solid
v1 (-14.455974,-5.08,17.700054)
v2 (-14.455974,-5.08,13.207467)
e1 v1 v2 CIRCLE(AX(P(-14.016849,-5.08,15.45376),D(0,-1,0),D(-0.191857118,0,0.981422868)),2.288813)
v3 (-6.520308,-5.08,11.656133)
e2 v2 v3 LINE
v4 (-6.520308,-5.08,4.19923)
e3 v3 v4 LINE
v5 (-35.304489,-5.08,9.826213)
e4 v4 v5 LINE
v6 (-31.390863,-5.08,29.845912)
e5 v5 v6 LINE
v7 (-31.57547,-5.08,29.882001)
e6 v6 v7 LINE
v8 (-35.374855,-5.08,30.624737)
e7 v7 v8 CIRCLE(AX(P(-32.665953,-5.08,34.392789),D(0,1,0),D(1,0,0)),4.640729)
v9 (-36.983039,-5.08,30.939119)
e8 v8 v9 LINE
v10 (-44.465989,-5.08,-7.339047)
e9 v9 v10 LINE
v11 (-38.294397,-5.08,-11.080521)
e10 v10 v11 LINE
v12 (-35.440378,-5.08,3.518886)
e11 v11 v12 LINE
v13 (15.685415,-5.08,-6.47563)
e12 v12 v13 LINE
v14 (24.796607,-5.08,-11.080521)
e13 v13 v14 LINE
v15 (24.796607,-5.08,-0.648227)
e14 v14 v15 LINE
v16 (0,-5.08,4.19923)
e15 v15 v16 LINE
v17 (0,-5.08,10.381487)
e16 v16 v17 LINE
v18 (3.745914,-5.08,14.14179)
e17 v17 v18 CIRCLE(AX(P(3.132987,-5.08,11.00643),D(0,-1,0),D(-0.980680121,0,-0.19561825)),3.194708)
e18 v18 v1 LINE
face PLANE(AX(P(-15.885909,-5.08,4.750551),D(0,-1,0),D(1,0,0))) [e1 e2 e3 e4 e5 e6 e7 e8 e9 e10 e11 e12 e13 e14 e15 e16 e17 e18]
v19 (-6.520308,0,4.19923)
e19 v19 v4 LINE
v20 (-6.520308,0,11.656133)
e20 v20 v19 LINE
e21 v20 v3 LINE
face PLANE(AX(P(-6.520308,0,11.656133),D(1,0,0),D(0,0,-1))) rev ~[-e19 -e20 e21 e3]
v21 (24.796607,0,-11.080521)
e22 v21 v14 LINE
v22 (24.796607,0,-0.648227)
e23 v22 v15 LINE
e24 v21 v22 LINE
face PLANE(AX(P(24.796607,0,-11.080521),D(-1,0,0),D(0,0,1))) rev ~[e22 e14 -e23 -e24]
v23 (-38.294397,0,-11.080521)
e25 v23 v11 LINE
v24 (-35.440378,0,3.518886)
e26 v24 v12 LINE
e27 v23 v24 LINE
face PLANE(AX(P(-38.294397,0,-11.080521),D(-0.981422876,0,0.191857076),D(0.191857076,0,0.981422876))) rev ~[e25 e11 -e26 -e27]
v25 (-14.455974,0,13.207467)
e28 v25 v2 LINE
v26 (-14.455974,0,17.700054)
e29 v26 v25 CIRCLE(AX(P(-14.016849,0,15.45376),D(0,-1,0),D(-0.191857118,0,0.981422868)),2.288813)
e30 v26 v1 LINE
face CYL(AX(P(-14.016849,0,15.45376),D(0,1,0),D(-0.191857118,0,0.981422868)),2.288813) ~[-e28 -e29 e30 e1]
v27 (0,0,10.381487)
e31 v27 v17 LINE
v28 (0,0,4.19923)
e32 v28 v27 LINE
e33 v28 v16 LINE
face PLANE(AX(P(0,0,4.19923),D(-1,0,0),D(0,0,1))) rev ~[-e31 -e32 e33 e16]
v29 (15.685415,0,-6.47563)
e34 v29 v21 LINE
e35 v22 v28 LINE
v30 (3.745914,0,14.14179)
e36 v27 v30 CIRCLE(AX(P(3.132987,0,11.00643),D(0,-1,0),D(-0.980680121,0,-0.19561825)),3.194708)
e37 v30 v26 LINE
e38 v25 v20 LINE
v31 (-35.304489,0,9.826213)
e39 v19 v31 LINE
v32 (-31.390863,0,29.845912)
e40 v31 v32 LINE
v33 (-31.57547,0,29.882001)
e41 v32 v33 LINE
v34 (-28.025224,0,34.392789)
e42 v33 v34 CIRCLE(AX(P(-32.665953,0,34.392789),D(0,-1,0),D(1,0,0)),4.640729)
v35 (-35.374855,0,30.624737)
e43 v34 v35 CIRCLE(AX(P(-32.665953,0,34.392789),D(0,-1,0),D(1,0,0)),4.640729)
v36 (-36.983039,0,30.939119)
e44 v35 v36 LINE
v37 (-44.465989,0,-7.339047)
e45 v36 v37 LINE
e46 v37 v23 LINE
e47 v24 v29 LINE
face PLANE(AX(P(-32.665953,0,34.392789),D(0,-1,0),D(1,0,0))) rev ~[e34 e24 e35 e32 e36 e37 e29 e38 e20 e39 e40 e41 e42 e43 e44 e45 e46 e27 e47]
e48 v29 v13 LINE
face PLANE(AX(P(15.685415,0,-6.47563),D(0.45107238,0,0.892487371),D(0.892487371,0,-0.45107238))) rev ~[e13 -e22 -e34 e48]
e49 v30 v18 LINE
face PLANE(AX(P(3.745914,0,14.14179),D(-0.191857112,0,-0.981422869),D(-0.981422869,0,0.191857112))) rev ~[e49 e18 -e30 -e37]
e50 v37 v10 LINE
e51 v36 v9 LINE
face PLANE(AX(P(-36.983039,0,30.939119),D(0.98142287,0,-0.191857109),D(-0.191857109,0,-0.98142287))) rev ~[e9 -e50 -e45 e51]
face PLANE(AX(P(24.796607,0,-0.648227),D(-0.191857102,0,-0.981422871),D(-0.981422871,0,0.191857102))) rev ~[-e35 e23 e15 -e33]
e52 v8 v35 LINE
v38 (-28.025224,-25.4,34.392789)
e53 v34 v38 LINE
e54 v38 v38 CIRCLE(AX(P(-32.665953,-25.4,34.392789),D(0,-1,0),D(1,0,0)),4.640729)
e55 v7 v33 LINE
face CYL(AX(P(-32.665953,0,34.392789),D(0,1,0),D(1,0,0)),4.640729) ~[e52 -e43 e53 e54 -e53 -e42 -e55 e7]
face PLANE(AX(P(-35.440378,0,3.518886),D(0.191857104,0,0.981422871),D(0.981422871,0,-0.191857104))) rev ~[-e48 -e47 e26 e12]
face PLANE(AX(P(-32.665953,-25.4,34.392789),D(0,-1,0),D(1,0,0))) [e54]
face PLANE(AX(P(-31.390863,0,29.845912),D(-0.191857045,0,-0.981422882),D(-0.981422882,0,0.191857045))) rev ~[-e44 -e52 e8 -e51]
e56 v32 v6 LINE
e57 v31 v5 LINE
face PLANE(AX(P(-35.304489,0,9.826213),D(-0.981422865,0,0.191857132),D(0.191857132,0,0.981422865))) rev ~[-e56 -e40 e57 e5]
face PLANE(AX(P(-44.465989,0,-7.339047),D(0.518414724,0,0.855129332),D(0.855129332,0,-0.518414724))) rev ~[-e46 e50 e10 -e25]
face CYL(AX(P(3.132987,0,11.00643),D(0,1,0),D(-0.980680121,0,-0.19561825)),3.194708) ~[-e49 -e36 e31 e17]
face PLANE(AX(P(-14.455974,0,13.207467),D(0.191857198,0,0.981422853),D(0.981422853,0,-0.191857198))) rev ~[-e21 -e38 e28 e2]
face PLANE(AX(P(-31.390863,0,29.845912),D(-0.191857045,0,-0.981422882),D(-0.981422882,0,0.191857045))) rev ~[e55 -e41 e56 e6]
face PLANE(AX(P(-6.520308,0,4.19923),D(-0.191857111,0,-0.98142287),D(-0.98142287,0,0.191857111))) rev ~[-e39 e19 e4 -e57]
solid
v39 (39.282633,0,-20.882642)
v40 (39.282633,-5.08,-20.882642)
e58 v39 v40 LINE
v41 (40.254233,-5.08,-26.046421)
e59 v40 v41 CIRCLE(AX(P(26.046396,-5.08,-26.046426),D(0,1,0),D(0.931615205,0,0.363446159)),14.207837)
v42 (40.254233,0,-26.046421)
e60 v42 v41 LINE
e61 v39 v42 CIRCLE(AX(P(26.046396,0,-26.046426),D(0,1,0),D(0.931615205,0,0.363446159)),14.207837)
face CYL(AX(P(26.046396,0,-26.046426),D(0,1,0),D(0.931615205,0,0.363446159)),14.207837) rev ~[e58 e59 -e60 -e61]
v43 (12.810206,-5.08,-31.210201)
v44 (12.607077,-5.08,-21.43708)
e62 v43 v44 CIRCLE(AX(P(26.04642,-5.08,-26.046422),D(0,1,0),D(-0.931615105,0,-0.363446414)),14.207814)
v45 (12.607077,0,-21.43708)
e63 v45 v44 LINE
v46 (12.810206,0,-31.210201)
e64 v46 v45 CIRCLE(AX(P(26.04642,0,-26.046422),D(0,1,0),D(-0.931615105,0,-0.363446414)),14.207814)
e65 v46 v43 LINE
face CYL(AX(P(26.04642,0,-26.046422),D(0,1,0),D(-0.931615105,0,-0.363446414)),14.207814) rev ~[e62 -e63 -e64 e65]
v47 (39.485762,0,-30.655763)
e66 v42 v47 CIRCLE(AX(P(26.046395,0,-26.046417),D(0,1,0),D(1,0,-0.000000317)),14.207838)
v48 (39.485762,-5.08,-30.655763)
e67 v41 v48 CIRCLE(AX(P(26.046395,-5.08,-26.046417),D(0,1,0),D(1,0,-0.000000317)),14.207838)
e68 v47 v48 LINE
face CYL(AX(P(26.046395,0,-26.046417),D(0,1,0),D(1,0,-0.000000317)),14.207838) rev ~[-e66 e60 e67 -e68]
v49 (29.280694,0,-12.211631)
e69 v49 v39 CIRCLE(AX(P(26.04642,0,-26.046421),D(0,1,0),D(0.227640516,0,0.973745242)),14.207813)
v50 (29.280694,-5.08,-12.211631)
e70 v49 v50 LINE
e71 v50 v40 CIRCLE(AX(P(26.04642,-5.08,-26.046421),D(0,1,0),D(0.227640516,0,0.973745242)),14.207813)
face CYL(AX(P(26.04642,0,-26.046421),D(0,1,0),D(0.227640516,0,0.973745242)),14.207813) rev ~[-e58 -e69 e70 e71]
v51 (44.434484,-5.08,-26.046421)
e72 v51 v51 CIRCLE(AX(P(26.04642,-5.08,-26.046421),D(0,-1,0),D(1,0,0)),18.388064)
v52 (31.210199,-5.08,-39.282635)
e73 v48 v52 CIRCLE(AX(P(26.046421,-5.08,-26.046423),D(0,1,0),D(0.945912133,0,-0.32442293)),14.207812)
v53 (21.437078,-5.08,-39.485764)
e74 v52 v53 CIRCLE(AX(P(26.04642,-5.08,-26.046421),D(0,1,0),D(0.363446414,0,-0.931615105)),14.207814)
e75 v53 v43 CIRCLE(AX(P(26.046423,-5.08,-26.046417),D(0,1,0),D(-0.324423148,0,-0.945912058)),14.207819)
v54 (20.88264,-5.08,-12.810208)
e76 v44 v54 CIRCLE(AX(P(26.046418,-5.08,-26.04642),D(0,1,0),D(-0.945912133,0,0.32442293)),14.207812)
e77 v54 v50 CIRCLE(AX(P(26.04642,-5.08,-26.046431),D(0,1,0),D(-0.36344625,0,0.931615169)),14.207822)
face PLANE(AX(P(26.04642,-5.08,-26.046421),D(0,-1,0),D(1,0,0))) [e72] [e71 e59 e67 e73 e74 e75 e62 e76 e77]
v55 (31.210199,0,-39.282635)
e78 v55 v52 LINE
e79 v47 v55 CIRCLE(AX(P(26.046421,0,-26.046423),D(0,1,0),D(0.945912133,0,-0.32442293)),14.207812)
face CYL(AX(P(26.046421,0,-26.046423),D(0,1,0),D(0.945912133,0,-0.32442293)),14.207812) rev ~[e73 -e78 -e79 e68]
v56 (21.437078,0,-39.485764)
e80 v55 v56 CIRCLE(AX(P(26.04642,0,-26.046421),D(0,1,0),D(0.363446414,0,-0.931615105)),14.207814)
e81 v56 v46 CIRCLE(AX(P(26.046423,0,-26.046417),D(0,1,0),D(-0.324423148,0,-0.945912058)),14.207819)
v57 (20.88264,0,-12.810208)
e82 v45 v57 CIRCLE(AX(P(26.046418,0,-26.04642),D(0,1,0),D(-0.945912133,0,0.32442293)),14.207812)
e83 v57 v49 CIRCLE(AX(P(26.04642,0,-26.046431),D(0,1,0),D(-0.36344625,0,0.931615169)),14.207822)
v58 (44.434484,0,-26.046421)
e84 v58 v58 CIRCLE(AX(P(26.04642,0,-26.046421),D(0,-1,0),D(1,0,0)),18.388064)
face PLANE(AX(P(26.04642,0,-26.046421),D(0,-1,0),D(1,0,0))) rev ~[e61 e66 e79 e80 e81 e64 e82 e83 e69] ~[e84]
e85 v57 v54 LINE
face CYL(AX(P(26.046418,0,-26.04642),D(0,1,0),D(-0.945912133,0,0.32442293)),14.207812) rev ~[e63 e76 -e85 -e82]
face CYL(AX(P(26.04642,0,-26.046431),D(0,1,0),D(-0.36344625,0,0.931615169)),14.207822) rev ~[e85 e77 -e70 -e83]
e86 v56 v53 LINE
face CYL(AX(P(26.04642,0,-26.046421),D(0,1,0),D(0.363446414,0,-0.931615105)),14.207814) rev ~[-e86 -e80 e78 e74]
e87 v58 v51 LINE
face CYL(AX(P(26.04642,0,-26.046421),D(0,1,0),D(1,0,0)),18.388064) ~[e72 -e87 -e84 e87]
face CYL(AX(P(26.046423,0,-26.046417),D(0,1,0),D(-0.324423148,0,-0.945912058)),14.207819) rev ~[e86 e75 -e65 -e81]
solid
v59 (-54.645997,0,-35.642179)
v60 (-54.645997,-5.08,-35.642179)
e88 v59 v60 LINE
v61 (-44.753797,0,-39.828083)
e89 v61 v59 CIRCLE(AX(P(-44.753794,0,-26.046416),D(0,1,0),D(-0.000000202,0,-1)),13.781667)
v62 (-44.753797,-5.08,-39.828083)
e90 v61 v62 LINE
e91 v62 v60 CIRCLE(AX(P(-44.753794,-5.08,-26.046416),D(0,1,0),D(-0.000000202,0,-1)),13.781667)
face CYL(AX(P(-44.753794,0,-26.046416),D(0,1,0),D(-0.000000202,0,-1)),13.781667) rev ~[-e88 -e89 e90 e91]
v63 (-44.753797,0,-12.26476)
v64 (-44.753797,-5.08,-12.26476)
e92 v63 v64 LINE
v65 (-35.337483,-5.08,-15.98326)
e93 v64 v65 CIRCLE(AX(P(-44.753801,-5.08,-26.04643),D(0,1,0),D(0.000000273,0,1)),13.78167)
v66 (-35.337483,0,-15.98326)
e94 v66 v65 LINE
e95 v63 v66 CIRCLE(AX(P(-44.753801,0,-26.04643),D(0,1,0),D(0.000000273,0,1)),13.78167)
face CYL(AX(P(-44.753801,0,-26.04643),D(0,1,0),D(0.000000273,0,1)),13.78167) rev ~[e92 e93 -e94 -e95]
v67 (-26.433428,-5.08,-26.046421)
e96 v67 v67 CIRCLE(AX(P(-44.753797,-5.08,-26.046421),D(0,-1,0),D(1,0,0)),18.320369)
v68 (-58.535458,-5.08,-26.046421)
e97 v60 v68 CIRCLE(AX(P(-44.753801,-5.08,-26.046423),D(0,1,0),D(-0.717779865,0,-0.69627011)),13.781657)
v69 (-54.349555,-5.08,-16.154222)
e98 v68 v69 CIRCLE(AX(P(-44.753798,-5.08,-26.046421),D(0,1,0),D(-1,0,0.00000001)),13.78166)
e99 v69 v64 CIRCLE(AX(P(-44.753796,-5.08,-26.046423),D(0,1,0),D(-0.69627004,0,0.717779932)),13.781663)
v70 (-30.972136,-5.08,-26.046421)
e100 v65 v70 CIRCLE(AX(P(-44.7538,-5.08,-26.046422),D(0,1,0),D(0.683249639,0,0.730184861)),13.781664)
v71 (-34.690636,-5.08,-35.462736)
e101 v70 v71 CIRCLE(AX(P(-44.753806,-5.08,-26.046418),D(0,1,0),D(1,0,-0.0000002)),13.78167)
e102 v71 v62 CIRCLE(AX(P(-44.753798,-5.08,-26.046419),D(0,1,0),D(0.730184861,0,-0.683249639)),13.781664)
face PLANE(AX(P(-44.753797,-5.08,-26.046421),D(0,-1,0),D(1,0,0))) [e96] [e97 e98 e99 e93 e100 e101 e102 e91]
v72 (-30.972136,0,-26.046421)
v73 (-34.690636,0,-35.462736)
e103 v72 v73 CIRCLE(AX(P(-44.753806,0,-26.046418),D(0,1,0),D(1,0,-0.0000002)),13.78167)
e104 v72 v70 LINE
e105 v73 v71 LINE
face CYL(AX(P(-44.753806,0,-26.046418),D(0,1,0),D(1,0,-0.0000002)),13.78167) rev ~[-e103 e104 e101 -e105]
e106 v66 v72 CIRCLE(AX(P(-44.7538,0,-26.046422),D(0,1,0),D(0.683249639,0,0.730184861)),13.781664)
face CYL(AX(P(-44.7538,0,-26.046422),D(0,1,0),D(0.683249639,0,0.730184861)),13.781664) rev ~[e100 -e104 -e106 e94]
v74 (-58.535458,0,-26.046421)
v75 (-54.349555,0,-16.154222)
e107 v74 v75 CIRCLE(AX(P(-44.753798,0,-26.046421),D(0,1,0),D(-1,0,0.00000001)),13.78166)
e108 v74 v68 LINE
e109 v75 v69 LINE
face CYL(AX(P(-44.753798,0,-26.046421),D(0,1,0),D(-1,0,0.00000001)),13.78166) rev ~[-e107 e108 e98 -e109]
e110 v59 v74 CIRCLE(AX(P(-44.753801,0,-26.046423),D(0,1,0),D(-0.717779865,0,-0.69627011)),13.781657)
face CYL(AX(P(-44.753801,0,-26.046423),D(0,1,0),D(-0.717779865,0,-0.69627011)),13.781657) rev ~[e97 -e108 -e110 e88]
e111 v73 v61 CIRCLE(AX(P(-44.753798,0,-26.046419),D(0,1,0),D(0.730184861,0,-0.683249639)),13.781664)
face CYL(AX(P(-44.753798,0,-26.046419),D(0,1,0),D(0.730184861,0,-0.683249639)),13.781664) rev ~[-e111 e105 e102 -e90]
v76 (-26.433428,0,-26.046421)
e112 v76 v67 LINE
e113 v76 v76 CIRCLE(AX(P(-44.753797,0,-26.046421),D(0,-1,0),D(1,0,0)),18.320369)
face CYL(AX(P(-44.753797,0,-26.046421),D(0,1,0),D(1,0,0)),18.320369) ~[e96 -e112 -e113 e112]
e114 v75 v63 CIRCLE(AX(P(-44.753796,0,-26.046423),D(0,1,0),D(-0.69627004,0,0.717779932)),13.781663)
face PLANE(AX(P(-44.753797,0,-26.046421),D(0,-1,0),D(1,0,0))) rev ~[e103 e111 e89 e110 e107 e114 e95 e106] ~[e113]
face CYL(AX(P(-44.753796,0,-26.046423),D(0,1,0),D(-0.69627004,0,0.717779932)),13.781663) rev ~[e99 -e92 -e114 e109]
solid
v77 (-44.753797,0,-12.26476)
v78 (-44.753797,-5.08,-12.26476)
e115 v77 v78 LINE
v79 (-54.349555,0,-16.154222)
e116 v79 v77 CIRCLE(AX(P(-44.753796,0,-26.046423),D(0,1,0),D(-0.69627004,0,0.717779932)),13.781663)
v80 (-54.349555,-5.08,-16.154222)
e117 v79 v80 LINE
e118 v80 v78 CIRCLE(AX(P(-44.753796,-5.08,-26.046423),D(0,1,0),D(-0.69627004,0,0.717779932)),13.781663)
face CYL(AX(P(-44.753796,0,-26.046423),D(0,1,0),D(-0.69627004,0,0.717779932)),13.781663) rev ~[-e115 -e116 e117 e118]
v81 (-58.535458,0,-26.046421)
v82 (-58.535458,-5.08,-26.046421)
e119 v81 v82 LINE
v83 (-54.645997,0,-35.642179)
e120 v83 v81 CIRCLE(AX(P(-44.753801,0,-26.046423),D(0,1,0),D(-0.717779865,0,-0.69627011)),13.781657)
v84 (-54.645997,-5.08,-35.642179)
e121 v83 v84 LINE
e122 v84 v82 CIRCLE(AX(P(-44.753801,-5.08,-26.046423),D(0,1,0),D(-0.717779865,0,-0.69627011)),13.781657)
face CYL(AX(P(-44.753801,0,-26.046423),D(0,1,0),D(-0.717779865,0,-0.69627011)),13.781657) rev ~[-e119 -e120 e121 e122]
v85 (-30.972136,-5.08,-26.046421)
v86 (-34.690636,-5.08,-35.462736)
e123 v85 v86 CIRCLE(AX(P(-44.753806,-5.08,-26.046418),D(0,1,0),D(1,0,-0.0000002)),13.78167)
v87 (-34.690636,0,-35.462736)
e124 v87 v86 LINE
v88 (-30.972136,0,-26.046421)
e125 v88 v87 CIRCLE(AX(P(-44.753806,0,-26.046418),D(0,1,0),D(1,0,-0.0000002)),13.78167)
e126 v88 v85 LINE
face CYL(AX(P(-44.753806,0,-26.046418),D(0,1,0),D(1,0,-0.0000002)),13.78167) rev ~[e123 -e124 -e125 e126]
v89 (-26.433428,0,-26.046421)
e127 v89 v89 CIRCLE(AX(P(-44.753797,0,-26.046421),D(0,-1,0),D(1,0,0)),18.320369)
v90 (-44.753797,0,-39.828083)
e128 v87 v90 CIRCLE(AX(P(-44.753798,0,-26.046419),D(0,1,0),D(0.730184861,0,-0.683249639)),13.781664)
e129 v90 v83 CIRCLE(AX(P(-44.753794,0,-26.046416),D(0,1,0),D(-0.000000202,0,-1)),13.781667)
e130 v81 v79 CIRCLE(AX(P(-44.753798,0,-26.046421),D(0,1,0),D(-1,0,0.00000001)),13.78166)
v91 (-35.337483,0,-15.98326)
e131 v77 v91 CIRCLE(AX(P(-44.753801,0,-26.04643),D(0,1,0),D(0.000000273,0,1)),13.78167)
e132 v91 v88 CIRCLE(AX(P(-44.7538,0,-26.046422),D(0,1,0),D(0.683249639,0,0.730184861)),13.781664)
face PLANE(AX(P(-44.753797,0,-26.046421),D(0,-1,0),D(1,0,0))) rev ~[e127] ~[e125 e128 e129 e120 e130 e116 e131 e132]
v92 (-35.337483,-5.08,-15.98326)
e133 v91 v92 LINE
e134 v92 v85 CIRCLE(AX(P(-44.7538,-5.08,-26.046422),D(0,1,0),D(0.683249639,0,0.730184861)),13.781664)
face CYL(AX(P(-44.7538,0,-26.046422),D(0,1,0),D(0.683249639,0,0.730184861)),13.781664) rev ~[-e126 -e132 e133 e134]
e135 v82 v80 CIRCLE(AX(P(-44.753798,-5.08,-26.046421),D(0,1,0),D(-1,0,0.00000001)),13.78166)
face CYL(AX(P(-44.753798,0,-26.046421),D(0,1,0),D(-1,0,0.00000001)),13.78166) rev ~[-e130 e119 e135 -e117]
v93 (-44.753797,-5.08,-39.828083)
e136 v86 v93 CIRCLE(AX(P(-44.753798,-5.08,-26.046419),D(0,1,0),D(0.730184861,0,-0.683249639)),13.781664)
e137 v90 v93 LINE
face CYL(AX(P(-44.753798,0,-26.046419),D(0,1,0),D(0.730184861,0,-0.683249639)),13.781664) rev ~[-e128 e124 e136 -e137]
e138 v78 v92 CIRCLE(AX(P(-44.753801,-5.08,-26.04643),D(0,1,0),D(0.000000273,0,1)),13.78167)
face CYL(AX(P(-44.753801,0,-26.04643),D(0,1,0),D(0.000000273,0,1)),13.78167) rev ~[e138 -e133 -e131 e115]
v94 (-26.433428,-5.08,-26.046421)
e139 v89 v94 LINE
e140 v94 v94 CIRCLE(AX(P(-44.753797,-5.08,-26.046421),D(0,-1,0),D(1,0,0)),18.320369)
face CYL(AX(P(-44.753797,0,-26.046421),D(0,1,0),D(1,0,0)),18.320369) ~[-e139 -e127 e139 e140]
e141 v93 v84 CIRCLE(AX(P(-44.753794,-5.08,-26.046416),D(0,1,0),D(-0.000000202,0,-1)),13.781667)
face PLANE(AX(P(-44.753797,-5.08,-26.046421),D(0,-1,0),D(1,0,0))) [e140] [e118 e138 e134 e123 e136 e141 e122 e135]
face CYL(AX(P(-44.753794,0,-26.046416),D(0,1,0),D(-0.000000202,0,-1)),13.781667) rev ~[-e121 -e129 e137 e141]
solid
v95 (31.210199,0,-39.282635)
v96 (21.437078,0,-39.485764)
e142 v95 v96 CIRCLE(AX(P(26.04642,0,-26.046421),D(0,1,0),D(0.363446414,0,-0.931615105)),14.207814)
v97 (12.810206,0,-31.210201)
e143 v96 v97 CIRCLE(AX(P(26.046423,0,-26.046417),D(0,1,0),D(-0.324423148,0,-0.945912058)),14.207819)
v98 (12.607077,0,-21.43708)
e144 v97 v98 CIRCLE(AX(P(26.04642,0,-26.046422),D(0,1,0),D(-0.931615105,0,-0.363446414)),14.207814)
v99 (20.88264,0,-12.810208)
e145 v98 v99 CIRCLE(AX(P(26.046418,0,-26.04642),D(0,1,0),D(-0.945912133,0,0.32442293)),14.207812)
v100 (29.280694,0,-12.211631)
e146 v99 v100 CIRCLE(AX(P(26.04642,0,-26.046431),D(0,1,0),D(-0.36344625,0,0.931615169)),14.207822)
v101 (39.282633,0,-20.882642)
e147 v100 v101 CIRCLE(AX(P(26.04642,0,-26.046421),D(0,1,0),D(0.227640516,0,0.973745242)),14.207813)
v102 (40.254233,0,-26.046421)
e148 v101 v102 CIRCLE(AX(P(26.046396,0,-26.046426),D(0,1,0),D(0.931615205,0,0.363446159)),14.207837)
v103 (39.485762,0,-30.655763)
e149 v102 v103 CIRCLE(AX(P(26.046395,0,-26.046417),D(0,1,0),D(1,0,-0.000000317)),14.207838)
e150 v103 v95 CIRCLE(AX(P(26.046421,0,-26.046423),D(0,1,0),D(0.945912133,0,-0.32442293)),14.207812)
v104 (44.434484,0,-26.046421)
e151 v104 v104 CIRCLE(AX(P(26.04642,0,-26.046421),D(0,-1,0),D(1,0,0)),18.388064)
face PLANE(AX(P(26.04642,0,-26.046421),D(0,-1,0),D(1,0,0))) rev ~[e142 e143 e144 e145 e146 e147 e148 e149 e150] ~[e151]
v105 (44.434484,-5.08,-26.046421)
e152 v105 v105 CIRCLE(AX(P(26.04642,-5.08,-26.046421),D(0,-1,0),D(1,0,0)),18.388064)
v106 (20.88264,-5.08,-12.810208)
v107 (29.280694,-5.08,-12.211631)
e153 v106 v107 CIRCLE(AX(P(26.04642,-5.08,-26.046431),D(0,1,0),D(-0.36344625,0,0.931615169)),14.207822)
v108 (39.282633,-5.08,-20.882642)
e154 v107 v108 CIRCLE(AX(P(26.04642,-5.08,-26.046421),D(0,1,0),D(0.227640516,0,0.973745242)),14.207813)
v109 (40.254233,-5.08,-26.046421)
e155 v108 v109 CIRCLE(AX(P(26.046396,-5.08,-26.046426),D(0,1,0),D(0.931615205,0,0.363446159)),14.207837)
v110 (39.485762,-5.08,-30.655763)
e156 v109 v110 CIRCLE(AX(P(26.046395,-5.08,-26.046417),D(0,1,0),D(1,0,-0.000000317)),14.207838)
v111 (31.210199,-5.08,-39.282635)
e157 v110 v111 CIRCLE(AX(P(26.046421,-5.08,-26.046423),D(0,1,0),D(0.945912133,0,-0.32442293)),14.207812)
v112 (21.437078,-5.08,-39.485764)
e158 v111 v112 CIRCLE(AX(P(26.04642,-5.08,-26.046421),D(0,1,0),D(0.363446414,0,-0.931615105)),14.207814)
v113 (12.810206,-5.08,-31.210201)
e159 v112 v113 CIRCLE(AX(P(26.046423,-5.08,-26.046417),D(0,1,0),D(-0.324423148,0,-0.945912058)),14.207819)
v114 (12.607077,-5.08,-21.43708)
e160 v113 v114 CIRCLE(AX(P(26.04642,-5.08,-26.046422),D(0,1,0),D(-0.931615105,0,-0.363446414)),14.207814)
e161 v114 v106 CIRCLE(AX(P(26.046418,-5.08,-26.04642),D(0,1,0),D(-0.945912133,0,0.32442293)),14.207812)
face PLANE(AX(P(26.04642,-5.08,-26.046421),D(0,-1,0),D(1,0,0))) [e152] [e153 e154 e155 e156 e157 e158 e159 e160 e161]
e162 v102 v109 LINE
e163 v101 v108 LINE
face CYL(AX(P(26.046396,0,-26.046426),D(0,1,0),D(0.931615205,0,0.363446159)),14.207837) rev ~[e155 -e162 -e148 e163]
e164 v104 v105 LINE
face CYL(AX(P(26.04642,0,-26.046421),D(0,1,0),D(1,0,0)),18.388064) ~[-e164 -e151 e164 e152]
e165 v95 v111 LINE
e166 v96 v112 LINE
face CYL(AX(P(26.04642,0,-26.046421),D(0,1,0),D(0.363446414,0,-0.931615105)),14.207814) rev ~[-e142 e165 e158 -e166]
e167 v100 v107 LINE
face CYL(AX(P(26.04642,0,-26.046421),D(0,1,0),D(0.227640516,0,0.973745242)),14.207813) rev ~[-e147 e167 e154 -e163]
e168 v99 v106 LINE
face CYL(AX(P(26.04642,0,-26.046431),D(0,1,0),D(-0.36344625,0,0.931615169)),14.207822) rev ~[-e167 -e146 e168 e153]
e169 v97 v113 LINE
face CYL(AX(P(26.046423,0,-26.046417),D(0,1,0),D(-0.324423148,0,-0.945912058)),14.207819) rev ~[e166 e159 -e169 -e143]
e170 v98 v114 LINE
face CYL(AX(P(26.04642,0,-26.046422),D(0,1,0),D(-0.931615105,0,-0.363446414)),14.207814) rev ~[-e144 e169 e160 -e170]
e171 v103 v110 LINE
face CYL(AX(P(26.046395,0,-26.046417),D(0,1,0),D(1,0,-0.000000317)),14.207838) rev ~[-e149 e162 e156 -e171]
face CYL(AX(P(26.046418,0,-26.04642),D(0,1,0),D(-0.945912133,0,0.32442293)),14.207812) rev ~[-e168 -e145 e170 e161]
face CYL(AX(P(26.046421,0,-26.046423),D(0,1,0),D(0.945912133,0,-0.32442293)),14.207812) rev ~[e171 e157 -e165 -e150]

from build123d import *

# Parameters (mm, degrees)
F0_R     = 18.320369
F0_R_2   = 18.388064
F1_DEPTH = 5.08
F2_DEPTH = 5.08
F4_DEPTH = 5.08
F5_R     = 4.640729
F6_DEPTH = 25.4


with BuildPart() as f1:
    # F0 (on Front) → F1 (new body)
    with BuildSketch(Plane.XZ):
        with Locations((-44.753797, -26.046421)):
            Circle(F0_R)
        with BuildLine():
            ThreePointArc((-35.337483, -15.98326), (-32.110486, -20.561819), (-30.972136, -26.046421))
            ThreePointArc((-30.972136, -26.046421), (-31.935427, -31.108393), (-34.690636, -35.462736))
            ThreePointArc((-34.690636, -35.462736), (-39.269195, -38.689733), (-44.753797, -39.828083))
            ThreePointArc((-44.753797, -39.828083), (-50.124491, -38.738538), (-54.645997, -35.642179))
            ThreePointArc((-54.645997, -35.642179), (-57.526133, -31.22345), (-58.535458, -26.046421))
            ThreePointArc((-58.535458, -26.046421), (-57.445914, -20.675728), (-54.349555, -16.154222))
            ThreePointArc((-54.349555, -16.154222), (-49.930826, -13.274086), (-44.753797, -12.26476))
            ThreePointArc((-44.753797, -12.26476), (-39.691826, -13.228051), (-35.337483, -15.98326))
        make_face(mode=Mode.SUBTRACT)
        with Locations((26.04642, -26.046421)):
            Circle(F0_R_2)
        with BuildLine():
            ThreePointArc((39.282633, -20.882642), (40.00922, -23.419226), (40.254233, -26.046421))
            ThreePointArc((40.254233, -26.046421), (40.060798, -28.382903), (39.485762, -30.655763))
            ThreePointArc((39.485762, -30.655763), (36.299457, -35.881928), (31.210199, -39.282635))
            ThreePointArc((31.210199, -39.282635), (26.341658, -40.251167), (21.437078, -39.485764))
            ThreePointArc((21.437078, -39.485764), (16.210913, -36.299458), (12.810206, -31.210201))
            ThreePointArc((12.810206, -31.210201), (11.841674, -26.34166), (12.607077, -21.43708))
            ThreePointArc((12.607077, -21.43708), (15.793382, -16.210915), (20.88264, -12.810208))
            ThreePointArc((20.88264, -12.810208), (25.03631, -11.874561), (29.280694, -12.211631))
            ThreePointArc((29.280694, -12.211631), (35.353183, -15.311147), (39.282633, -20.882642))
        make_face(mode=Mode.SUBTRACT)
    extrude(amount=F1_DEPTH)


with BuildPart() as f2:
    # F0 (on Front) → F2 (new body)
    with BuildSketch(Plane.XZ):
        with Locations((-44.753797, -26.046421)):
            Circle(F0_R)
        with BuildLine():
            ThreePointArc((-35.337483, -15.98326), (-32.110486, -20.561819), (-30.972136, -26.046421))
            ThreePointArc((-30.972136, -26.046421), (-31.935427, -31.108393), (-34.690636, -35.462736))
            ThreePointArc((-34.690636, -35.462736), (-39.269195, -38.689733), (-44.753797, -39.828083))
            ThreePointArc((-44.753797, -39.828083), (-50.124491, -38.738538), (-54.645997, -35.642179))
            ThreePointArc((-54.645997, -35.642179), (-57.526133, -31.22345), (-58.535458, -26.046421))
            ThreePointArc((-58.535458, -26.046421), (-57.445914, -20.675728), (-54.349555, -16.154222))
            ThreePointArc((-54.349555, -16.154222), (-49.930826, -13.274086), (-44.753797, -12.26476))
            ThreePointArc((-44.753797, -12.26476), (-39.691826, -13.228051), (-35.337483, -15.98326))
        make_face(mode=Mode.SUBTRACT)
        with Locations((26.04642, -26.046421)):
            Circle(F0_R_2)
        with BuildLine():
            ThreePointArc((39.282633, -20.882642), (40.00922, -23.419226), (40.254233, -26.046421))
            ThreePointArc((40.254233, -26.046421), (40.060798, -28.382903), (39.485762, -30.655763))
            ThreePointArc((39.485762, -30.655763), (36.299457, -35.881928), (31.210199, -39.282635))
            ThreePointArc((31.210199, -39.282635), (26.341658, -40.251167), (21.437078, -39.485764))
            ThreePointArc((21.437078, -39.485764), (16.210913, -36.299458), (12.810206, -31.210201))
            ThreePointArc((12.810206, -31.210201), (11.841674, -26.34166), (12.607077, -21.43708))
            ThreePointArc((12.607077, -21.43708), (15.793382, -16.210915), (20.88264, -12.810208))
            ThreePointArc((20.88264, -12.810208), (25.03631, -11.874561), (29.280694, -12.211631))
            ThreePointArc((29.280694, -12.211631), (35.353183, -15.311147), (39.282633, -20.882642))
        make_face(mode=Mode.SUBTRACT)
    extrude(amount=F2_DEPTH)


with BuildPart() as f4:
    # F3 (on Front) → F4 (new body)
    with BuildSketch(Plane.XZ):
        Polygon((-36.983039, 30.939119), (-44.465989, -7.339047), (-38.294397, -11.080521), (-35.440378, 3.518886), (15.685415, -6.47563), (24.796607, -11.080521), (24.796607, -6.47563), (24.796607, -0.648227), (0, 4.19923), (0, 10.381487), (-6.520308, 11.656133), (-6.520308, 4.19923), (-35.304489, 9.826213), (-31.390863, 29.845912), align=None)
        with BuildLine():
            Line((-14.455974, 13.207467), (-6.520308, 11.656133))
            Line((-6.520308, 11.656133), (0, 10.381487))
            ThreePointArc((0, 10.381487), (5.396313, 8.751765), (3.745914, 14.14179))
            Line((3.745914, 14.14179), (-14.455974, 17.700054))
            ThreePointArc((-14.455974, 17.700054), (-16.305662, 15.45376), (-14.455974, 13.207467))
        make_face()
    extrude(amount=F4_DEPTH)

    # F5 (on Front) → F6 (join)
    with BuildSketch(Plane.XZ):
        with Locations((-32.665953, 34.392789)):
            Circle(F5_R)
    extrude(amount=F6_DEPTH)


solid = Compound([f1.part, f2.part, f4.part])
